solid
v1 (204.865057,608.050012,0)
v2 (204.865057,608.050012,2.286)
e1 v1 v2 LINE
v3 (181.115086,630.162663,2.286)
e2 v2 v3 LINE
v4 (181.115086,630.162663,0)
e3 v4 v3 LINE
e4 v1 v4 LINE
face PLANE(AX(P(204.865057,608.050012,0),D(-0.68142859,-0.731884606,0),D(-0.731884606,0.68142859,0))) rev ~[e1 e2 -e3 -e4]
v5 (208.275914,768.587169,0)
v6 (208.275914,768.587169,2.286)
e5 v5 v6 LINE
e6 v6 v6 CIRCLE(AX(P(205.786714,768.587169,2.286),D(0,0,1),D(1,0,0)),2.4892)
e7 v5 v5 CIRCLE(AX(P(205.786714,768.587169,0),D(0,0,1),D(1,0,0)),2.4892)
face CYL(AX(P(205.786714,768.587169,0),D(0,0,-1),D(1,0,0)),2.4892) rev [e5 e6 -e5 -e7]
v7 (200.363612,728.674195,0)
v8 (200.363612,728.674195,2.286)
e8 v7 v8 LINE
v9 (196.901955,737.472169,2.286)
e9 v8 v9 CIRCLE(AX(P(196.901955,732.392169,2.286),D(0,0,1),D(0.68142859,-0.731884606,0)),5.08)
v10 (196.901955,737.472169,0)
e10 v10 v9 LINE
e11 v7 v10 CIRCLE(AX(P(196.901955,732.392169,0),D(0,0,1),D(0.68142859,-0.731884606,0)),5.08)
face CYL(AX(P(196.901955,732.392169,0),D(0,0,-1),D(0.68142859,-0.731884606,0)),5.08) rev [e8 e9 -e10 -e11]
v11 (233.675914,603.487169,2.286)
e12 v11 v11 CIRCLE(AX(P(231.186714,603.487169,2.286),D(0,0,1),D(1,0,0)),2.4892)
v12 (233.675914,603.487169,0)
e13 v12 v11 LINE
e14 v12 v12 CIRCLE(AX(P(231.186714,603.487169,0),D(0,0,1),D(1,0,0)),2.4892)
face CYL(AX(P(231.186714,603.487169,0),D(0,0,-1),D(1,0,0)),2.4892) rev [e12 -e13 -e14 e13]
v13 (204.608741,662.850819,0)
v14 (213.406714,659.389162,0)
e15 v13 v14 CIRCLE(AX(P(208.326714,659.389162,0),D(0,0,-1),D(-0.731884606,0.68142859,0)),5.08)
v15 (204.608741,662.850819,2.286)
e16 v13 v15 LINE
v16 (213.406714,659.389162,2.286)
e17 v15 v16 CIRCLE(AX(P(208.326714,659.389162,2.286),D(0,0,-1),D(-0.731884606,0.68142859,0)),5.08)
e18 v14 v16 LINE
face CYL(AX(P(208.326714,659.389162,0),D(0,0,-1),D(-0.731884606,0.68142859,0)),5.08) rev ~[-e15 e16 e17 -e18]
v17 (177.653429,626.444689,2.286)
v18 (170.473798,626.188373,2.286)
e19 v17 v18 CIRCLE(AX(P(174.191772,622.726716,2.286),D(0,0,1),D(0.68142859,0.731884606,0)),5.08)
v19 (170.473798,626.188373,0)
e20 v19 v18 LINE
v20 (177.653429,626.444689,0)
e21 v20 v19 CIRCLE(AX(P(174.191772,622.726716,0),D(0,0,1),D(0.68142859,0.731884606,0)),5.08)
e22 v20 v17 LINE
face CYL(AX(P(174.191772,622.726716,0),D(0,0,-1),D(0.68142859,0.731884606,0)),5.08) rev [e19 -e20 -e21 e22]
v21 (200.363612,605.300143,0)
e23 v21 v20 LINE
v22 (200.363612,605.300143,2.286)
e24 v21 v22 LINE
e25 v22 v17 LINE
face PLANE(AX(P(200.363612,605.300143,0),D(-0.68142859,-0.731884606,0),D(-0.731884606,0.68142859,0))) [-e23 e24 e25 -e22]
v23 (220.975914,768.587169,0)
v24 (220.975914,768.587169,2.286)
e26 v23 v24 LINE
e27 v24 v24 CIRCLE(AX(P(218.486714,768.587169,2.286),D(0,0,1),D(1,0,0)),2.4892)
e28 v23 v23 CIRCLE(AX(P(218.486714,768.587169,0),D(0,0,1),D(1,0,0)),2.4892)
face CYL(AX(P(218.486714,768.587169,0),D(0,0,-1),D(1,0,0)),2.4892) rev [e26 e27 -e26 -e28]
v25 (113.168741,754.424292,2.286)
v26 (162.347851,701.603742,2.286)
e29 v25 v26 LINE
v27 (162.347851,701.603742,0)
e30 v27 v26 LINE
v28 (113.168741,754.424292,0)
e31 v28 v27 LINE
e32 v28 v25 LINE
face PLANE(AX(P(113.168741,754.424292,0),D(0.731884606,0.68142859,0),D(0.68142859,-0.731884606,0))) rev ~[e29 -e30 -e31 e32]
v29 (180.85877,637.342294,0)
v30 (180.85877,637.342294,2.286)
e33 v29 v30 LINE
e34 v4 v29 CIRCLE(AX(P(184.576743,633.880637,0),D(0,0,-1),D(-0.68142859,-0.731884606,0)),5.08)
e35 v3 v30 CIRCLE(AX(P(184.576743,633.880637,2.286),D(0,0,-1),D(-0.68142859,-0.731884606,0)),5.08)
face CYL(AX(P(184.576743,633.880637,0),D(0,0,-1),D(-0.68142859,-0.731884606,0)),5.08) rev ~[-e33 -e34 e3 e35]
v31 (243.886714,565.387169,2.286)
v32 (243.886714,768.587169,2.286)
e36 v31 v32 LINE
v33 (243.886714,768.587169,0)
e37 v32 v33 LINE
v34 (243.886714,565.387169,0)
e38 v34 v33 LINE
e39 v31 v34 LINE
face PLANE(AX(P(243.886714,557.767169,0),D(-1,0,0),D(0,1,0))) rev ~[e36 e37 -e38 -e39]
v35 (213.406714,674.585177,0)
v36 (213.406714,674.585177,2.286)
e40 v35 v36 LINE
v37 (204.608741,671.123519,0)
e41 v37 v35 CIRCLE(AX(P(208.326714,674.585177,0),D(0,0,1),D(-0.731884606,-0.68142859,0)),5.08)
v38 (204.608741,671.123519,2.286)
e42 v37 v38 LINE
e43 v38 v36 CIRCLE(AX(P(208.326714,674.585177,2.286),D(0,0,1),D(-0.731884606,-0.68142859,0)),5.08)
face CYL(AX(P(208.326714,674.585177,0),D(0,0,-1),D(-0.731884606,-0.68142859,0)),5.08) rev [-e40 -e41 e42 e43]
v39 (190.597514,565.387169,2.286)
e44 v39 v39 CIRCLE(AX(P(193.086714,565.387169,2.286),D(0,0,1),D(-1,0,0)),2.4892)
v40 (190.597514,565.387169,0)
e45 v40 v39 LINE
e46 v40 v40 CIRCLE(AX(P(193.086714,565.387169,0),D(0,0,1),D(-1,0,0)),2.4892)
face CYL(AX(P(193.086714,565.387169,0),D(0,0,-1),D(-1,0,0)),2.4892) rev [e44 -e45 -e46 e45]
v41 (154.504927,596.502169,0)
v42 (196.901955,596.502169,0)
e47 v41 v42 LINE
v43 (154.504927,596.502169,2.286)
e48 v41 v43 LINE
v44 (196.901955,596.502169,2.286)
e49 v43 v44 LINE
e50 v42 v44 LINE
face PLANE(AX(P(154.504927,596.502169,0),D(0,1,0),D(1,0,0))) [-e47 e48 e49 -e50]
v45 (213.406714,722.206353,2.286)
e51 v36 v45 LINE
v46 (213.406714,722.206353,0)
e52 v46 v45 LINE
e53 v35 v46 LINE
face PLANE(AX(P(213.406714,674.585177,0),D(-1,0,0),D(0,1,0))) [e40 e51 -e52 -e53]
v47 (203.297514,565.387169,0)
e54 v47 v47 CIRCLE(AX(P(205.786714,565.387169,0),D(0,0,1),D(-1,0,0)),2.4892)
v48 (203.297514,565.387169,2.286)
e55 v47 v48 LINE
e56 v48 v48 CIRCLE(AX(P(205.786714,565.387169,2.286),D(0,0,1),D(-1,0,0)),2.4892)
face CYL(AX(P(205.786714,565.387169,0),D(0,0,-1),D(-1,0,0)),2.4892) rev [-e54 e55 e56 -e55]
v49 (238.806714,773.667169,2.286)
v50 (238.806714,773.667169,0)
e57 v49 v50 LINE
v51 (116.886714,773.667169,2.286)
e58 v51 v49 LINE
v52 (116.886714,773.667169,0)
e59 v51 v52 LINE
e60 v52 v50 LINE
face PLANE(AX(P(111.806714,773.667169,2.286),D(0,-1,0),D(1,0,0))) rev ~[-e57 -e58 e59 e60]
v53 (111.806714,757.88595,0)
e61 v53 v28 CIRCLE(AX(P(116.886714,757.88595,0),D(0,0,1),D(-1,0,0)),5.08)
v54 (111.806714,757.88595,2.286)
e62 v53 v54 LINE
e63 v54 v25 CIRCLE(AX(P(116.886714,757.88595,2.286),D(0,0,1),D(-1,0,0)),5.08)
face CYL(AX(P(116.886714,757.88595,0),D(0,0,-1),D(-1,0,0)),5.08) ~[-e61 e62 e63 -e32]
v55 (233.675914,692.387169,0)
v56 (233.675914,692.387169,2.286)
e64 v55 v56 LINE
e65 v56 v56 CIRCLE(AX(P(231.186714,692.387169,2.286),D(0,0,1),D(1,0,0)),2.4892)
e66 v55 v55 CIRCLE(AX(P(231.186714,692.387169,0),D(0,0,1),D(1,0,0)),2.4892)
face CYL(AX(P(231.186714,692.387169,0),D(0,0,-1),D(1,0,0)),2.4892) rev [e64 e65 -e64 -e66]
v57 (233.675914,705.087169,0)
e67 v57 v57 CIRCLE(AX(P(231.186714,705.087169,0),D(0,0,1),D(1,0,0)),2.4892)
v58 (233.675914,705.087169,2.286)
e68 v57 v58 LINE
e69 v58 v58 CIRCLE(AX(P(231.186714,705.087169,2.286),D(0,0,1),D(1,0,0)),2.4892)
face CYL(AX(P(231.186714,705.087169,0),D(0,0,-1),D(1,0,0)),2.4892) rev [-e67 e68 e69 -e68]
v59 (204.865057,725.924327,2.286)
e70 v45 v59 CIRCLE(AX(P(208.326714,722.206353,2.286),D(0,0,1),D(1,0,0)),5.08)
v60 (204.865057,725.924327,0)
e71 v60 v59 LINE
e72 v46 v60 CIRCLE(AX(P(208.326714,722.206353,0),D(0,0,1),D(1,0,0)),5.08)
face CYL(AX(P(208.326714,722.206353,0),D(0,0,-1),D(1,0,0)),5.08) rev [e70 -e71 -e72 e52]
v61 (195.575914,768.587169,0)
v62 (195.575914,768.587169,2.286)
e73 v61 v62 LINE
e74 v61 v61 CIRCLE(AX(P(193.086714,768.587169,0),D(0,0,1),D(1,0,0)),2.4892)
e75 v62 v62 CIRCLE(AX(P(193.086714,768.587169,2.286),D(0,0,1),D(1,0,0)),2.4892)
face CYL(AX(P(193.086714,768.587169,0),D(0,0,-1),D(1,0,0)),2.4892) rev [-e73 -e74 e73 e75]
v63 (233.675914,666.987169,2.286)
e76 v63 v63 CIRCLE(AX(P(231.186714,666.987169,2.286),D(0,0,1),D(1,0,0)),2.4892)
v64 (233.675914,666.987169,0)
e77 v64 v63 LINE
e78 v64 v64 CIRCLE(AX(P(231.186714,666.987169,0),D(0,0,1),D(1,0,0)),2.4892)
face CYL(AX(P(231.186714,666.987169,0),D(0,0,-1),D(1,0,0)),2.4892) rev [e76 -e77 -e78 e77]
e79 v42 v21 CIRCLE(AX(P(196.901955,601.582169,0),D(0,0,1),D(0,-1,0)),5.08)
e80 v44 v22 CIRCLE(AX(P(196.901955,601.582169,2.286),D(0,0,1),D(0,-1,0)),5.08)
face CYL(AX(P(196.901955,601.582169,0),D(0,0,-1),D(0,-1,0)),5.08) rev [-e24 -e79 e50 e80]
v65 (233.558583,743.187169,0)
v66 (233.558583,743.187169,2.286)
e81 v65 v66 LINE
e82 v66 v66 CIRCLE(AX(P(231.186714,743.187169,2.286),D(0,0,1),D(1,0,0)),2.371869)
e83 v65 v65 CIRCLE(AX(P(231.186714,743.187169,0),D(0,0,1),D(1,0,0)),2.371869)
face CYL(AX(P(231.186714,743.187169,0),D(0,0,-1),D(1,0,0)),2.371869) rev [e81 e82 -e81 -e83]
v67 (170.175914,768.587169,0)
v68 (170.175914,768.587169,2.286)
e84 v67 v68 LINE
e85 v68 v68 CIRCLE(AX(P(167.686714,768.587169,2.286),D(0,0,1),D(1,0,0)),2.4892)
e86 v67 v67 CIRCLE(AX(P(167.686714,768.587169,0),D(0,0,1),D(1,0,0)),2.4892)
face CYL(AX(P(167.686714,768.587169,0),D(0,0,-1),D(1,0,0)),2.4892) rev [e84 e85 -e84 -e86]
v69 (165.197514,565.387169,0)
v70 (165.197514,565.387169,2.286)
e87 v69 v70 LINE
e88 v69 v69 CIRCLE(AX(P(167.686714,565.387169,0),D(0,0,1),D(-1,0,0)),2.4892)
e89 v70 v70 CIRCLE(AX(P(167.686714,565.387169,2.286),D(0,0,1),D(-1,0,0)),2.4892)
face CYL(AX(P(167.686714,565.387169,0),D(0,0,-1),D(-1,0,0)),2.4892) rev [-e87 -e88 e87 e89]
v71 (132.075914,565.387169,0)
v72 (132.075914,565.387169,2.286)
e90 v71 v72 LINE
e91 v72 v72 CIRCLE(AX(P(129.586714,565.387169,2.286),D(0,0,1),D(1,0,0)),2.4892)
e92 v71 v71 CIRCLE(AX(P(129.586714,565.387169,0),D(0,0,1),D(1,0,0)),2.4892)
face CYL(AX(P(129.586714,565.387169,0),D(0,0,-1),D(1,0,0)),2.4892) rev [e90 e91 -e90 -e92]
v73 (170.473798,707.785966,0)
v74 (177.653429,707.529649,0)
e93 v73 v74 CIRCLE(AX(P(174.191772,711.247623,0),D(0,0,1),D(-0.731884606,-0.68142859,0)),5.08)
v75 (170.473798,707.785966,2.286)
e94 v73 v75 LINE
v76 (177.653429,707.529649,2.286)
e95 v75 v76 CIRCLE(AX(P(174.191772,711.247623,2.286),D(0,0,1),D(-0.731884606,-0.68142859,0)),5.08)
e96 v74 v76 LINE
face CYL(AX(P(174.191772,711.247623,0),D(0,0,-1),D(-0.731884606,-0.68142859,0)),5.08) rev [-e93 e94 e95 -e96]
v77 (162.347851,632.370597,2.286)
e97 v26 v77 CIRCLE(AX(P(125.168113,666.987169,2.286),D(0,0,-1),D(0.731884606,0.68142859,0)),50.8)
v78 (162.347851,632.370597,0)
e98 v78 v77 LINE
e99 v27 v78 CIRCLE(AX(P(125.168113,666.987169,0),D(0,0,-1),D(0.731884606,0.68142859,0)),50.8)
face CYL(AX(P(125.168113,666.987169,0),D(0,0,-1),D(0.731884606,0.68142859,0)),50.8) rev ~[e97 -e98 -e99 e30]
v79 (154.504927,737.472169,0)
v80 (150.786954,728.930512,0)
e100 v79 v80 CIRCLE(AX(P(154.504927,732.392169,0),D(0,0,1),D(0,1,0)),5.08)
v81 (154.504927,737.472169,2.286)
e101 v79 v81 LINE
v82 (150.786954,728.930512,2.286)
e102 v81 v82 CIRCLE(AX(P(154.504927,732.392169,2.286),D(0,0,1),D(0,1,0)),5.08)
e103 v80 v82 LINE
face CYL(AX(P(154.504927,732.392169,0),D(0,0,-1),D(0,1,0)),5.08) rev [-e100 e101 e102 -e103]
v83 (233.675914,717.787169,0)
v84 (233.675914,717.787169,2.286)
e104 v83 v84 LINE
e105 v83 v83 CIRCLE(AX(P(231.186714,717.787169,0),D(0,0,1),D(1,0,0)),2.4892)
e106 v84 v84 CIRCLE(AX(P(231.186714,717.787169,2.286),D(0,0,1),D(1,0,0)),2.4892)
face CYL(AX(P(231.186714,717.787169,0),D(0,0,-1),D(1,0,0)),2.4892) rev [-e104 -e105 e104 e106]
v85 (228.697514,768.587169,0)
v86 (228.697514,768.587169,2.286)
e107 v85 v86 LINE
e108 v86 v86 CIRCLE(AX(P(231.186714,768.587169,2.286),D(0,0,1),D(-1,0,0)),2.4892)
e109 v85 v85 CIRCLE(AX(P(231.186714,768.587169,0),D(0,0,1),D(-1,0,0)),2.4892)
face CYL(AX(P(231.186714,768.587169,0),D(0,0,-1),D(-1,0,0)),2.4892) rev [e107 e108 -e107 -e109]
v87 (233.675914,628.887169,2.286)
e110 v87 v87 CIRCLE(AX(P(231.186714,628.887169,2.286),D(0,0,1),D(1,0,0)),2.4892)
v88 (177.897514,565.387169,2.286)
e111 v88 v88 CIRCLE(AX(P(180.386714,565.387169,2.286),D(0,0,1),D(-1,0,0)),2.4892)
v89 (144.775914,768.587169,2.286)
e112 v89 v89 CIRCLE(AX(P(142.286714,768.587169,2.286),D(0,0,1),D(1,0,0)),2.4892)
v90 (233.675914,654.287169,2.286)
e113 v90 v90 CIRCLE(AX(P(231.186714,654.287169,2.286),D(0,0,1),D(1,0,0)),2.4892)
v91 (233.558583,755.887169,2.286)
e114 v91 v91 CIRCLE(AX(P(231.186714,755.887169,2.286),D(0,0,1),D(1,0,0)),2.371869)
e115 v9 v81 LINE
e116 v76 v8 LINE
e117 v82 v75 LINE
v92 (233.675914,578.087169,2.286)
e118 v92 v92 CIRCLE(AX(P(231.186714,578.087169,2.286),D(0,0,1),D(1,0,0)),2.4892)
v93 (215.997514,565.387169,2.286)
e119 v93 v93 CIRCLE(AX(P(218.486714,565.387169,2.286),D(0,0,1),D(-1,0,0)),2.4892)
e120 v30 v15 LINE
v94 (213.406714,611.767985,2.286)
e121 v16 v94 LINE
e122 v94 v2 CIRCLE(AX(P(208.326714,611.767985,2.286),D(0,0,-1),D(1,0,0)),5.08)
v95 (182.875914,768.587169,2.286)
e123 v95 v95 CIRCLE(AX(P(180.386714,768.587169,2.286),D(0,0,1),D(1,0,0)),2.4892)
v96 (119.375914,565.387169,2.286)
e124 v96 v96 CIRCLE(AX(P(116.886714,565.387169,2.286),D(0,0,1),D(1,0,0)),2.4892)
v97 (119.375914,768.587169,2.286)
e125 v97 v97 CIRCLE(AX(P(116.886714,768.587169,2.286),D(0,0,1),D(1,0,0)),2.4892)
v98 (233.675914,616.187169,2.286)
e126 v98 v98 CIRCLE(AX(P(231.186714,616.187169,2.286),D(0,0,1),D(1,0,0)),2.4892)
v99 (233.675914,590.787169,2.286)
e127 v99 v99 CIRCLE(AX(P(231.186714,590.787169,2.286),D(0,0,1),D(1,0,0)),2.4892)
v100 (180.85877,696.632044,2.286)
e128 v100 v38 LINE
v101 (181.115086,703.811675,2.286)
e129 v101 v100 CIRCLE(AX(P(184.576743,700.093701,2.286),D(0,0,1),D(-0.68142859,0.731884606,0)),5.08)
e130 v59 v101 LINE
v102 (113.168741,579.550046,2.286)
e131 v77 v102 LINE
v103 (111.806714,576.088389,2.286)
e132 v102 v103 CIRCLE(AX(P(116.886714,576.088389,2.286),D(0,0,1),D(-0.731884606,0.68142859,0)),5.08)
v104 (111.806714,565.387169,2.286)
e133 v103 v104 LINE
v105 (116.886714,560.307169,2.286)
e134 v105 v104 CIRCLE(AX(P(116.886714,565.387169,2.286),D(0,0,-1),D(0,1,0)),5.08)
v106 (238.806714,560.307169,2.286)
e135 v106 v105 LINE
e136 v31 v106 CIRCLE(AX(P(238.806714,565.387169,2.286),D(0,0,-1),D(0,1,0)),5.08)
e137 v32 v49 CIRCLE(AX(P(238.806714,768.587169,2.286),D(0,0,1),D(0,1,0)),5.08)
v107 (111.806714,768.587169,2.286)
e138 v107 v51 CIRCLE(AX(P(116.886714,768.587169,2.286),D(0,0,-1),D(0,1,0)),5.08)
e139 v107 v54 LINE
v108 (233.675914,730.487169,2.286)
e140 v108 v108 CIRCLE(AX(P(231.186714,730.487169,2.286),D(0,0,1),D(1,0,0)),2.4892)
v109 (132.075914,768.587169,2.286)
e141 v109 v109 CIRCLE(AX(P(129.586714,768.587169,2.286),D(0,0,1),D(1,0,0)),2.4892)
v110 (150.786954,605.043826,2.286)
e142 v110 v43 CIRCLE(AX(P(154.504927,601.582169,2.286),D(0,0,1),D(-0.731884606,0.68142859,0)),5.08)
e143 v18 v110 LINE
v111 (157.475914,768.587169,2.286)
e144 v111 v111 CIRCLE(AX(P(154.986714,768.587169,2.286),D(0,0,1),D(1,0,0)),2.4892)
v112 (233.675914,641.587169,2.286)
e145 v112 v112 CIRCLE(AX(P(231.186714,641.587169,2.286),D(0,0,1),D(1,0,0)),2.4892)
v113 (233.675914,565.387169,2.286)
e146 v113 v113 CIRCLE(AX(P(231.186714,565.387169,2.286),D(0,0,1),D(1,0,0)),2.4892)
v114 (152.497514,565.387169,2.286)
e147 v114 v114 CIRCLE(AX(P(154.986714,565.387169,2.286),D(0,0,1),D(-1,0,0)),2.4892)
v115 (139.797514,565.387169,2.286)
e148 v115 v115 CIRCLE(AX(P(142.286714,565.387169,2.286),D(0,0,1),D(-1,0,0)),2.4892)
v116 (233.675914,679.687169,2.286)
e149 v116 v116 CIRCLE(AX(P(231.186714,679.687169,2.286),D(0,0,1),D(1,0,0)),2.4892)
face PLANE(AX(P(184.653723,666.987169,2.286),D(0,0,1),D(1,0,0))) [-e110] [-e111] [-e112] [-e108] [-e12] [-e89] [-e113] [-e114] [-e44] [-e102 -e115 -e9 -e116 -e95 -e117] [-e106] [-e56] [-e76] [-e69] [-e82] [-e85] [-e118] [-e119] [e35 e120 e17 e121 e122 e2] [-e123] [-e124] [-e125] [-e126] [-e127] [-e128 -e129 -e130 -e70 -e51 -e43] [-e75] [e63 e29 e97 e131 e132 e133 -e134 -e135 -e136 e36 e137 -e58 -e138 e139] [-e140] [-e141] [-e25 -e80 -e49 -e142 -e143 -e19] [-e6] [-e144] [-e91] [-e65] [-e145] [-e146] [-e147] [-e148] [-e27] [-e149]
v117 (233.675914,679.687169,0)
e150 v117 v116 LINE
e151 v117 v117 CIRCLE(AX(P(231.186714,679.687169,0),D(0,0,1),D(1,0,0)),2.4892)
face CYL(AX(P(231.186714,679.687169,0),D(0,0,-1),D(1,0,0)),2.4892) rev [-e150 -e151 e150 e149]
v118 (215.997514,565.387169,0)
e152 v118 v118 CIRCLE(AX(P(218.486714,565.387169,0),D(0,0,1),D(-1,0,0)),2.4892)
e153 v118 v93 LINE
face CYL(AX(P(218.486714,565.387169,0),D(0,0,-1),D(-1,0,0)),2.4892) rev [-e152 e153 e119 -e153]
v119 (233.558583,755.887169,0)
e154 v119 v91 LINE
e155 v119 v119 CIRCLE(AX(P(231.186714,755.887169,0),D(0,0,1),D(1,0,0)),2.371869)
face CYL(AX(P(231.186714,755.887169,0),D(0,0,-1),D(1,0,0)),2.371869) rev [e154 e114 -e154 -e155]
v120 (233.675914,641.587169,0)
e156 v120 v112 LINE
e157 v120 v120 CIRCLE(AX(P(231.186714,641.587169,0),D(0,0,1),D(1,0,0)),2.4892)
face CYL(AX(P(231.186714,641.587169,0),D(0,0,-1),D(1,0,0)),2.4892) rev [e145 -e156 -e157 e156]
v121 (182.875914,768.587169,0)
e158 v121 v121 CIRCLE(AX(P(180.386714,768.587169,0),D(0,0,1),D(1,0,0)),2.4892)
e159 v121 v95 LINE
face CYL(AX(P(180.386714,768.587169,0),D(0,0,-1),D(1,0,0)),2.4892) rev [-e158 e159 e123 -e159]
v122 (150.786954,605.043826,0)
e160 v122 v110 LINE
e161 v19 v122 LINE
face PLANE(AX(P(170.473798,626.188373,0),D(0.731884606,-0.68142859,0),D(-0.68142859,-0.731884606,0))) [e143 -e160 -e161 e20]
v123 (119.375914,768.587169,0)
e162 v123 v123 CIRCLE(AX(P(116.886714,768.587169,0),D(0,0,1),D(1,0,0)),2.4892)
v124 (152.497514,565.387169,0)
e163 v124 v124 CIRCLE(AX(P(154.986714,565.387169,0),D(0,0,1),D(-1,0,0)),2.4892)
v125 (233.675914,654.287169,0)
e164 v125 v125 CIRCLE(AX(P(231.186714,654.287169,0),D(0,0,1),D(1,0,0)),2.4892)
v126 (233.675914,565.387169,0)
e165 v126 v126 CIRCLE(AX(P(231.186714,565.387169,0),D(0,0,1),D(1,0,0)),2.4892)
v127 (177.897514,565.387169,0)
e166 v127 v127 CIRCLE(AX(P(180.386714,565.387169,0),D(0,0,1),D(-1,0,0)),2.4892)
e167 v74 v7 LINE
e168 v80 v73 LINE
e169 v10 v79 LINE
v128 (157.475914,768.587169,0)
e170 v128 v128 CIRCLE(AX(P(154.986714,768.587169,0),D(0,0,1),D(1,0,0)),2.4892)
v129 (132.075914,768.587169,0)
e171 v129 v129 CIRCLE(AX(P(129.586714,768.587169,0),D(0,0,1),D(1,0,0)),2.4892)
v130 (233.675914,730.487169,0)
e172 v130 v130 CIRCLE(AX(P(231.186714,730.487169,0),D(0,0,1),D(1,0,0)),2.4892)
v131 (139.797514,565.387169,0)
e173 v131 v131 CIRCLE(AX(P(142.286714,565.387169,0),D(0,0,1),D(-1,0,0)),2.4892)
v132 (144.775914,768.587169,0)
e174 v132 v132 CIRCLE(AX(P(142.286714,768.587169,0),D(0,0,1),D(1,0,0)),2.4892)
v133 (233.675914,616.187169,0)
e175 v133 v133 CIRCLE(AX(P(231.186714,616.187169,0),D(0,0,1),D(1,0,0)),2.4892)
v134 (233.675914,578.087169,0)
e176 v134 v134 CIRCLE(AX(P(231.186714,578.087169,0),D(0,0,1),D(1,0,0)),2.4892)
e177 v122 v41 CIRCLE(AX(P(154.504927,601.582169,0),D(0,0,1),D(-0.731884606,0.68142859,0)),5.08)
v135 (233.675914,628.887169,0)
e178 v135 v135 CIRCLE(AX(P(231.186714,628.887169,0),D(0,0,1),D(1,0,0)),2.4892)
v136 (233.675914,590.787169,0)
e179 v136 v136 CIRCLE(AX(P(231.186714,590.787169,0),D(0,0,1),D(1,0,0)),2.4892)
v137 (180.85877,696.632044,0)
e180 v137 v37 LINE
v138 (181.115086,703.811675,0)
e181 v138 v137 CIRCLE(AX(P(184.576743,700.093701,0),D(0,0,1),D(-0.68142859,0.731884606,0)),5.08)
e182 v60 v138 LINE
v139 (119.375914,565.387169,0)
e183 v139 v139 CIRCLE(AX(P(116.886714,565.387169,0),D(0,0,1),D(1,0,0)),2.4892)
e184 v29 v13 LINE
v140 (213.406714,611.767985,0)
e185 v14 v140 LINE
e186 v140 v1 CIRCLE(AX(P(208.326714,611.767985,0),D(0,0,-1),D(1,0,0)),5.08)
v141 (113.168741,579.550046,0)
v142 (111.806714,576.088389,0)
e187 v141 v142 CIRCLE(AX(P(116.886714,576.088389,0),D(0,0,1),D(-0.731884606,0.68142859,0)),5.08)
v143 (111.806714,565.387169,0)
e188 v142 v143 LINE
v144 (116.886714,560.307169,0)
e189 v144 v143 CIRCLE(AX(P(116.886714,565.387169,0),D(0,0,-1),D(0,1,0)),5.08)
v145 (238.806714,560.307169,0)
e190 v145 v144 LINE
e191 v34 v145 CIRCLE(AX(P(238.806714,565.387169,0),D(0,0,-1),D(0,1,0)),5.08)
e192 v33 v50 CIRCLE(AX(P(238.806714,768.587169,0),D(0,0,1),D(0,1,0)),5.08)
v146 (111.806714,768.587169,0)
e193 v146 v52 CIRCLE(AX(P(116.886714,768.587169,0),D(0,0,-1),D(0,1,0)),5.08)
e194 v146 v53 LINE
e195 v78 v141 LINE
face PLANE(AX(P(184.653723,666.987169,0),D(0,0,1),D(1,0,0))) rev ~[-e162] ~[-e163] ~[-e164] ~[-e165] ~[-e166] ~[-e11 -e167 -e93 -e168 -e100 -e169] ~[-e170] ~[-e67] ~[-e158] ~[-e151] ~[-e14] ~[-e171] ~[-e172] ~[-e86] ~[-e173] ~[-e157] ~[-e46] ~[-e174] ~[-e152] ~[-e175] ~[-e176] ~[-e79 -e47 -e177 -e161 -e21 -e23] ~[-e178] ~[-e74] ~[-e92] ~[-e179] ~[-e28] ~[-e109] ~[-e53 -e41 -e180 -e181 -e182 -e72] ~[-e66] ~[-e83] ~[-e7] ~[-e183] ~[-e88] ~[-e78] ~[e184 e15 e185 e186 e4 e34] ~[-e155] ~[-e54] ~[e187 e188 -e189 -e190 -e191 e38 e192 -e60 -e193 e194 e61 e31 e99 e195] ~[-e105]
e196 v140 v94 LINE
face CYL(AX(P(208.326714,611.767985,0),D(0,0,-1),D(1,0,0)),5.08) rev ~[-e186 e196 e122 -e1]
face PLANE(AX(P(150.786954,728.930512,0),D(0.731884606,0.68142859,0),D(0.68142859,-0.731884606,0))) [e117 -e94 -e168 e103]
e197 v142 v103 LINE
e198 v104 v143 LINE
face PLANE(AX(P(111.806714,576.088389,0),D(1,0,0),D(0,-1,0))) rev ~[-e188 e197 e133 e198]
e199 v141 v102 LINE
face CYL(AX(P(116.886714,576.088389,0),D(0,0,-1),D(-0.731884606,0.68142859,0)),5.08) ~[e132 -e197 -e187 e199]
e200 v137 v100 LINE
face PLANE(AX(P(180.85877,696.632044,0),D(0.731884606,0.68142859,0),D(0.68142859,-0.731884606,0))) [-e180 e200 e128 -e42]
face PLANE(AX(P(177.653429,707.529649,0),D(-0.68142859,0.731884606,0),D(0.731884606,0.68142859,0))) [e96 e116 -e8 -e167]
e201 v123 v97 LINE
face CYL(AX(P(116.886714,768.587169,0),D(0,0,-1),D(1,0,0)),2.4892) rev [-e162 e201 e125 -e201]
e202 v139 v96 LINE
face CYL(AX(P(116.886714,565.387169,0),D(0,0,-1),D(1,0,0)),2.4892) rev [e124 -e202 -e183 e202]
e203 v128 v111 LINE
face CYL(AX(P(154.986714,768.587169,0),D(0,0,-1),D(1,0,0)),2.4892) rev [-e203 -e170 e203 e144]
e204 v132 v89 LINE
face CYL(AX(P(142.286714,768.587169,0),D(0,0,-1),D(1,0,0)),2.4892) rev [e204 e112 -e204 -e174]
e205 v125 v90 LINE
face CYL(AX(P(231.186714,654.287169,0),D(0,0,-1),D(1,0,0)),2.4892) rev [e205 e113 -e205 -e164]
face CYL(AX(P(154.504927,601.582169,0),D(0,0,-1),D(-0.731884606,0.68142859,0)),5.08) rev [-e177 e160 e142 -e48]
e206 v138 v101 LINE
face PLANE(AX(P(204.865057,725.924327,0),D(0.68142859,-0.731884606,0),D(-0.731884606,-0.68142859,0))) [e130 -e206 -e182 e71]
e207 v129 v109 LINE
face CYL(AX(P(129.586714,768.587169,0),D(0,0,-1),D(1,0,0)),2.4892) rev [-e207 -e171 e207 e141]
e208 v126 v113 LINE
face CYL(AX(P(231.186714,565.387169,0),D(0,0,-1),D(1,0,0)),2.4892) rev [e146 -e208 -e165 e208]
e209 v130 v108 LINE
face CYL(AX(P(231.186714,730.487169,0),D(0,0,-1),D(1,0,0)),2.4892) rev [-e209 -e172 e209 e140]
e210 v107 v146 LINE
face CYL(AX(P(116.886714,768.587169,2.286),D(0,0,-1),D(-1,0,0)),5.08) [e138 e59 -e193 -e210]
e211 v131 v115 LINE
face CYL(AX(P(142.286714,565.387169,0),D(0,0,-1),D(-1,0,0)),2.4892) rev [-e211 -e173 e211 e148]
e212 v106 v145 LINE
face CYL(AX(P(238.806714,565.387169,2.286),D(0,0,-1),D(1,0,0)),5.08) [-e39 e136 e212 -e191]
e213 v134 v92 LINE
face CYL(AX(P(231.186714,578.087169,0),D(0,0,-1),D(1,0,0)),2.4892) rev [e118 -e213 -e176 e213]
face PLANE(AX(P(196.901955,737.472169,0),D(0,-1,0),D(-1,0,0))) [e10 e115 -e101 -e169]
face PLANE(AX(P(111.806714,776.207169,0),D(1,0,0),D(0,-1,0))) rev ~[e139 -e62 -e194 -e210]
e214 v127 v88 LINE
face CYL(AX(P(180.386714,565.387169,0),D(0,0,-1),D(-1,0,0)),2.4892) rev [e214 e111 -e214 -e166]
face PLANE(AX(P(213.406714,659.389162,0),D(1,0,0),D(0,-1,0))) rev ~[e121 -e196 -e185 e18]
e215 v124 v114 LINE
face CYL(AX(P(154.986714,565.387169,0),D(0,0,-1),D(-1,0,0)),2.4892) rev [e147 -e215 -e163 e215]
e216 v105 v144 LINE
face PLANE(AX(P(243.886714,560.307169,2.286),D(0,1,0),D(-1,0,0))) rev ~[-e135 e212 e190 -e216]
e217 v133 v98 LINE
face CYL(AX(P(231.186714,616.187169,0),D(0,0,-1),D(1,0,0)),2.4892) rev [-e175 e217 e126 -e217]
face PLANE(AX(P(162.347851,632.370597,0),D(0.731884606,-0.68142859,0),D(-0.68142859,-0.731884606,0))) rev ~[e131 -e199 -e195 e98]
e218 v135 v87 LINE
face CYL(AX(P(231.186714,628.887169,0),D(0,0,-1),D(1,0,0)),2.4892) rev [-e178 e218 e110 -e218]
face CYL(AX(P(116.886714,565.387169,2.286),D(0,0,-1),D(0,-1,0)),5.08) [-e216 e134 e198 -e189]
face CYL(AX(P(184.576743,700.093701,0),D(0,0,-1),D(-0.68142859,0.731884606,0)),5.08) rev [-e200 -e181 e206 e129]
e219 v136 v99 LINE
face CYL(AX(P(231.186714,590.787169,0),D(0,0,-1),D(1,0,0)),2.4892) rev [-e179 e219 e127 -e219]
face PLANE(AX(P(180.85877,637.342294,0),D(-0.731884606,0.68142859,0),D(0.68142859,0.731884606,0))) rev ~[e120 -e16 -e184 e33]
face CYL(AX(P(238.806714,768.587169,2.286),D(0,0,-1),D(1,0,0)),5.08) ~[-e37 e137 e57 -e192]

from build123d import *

# Parameters (mm, degrees)
SKETCH1_R           = 2.4892
SKETCH1_R_2         = 2.37186857
BOSS_EXTRUDE1_DEPTH = 2.286
CUT_EXTRUDE1_DEPTH  = 819.47149982
FILLET1_R           = 5.08


with BuildPart() as part:
    # Sketch1 → Boss-Extrude1 (new body)
    with BuildSketch(Plane.XY):
        with BuildLine():
            Line((238.806714439, 781.287169191), (222.296714439, 781.287169191))
            Line((222.296714439, 781.287169191), (176.576714439, 781.287169191))
            Line((176.576714439, 781.287169191), (116.886714439, 781.287169191))
            ThreePointArc((116.886714439, 781.287169191), (113.29461199, 779.799271639), (111.806714439, 776.207169191))
            Line((111.806714439, 776.207169191), (111.806714439, 757.885949725))
            ThreePointArc((111.806714439, 757.885949725), (112.159468576, 756.025964093), (113.16874064, 754.424292487))
            Line((113.16874064, 754.424292487), (162.347850631, 701.603741569))
            ThreePointArc((162.347850631, 701.603741569), (175.968112644, 666.987169191), (162.347850631, 632.370596813))
            Line((162.347850631, 632.370596813), (113.16874064, 579.550045895))
            ThreePointArc((113.16874064, 579.550045895), (112.159468576, 577.948374289), (111.806714439, 576.088388657))
            Line((111.806714439, 576.088388657), (111.806714439, 557.767169191))
            ThreePointArc((111.806714439, 557.767169191), (113.29461199, 554.175066742), (116.886714439, 552.687169191))
            Line((116.886714439, 552.687169191), (176.576714439, 552.687169191))
            Line((176.576714439, 552.687169191), (222.296714439, 552.687169191))
            Line((222.296714439, 552.687169191), (238.806714439, 552.687169191))
            ThreePointArc((238.806714439, 552.687169191), (242.398816887, 554.175066742), (243.886714439, 557.767169191))
            Line((243.886714439, 557.767169191), (243.886714439, 666.987169191))
            Line((243.886714439, 666.987169191), (243.886714439, 776.207169191))
            ThreePointArc((243.886714439, 776.207169191), (242.398816887, 779.799271639), (238.806714439, 781.287169191))
        make_face()
        with Locations((142.286714439, 768.587169191)):
            Circle(SKETCH1_R, mode=Mode.SUBTRACT)
        with Locations((154.986714439, 768.587169191)):
            Circle(SKETCH1_R, mode=Mode.SUBTRACT)
        with Locations((167.686714439, 768.587169191)):
            Circle(SKETCH1_R, mode=Mode.SUBTRACT)
        with Locations((231.186714439, 743.187169191)):
            Circle(SKETCH1_R_2, mode=Mode.SUBTRACT)
        with Locations((231.186714439, 730.487169191)):
            Circle(SKETCH1_R, mode=Mode.SUBTRACT)
        with Locations((231.186714439, 717.787169191)):
            Circle(SKETCH1_R, mode=Mode.SUBTRACT)
        with Locations((231.186714439, 705.087169191)):
            Circle(SKETCH1_R, mode=Mode.SUBTRACT)
        with Locations((231.186714439, 692.387169191)):
            Circle(SKETCH1_R, mode=Mode.SUBTRACT)
        with Locations(Location((167.686714439, 565.387169191, 0), (0, 0, 180))):
            Circle(SKETCH1_R, mode=Mode.SUBTRACT)
        with Locations(Location((154.986714439, 565.387169191, 0), (0, 0, 180))):
            Circle(SKETCH1_R, mode=Mode.SUBTRACT)
        with Locations(Location((142.286714439, 565.387169191, 0), (0, 0, 180))):
            Circle(SKETCH1_R, mode=Mode.SUBTRACT)
        with Locations((231.186714439, 616.187169191)):
            Circle(SKETCH1_R, mode=Mode.SUBTRACT)
        with Locations((231.186714439, 603.487169191)):
            Circle(SKETCH1_R, mode=Mode.SUBTRACT)
        with Locations((231.186714439, 590.787169191)):
            Circle(SKETCH1_R, mode=Mode.SUBTRACT)
        with Locations((231.186714439, 565.387169191)):
            Circle(SKETCH1_R, mode=Mode.SUBTRACT)
        with Locations(Location((231.186714439, 768.587169191, 0), (0, 0, 180))):
            Circle(SKETCH1_R, mode=Mode.SUBTRACT)
        with Locations((231.186714439, 654.287169191)):
            Circle(SKETCH1_R, mode=Mode.SUBTRACT)
        with Locations((231.186714439, 641.587169191)):
            Circle(SKETCH1_R, mode=Mode.SUBTRACT)
        with Locations((231.186714439, 628.887169191)):
            Circle(SKETCH1_R, mode=Mode.SUBTRACT)
        with Locations((116.886714439, 768.587169191)):
            Circle(SKETCH1_R, mode=Mode.SUBTRACT)
        with Locations((129.586714439, 768.587169191)):
            Circle(SKETCH1_R, mode=Mode.SUBTRACT)
        with Locations((129.586714439, 565.387169191)):
            Circle(SKETCH1_R, mode=Mode.SUBTRACT)
        with Locations((116.886714439, 565.387169191)):
            Circle(SKETCH1_R, mode=Mode.SUBTRACT)
        with Locations((231.186714439, 679.687169191)):
            Circle(SKETCH1_R, mode=Mode.SUBTRACT)
        with Locations((231.186714439, 666.987169191)):
            Circle(SKETCH1_R, mode=Mode.SUBTRACT)
        with Locations((231.186714439, 755.887169191)):
            Circle(SKETCH1_R_2, mode=Mode.SUBTRACT)
        with Locations((231.186714439, 578.087169191)):
            Circle(SKETCH1_R, mode=Mode.SUBTRACT)
        with Locations(Location((180.386714439, 565.387169191, 0), (0, 0, 180))):
            Circle(SKETCH1_R, mode=Mode.SUBTRACT)
        with Locations(Location((193.086714439, 565.387169191, 0), (0, 0, 180))):
            Circle(SKETCH1_R, mode=Mode.SUBTRACT)
        with Locations(Location((205.786714439, 565.387169191, 0), (0, 0, 180))):
            Circle(SKETCH1_R, mode=Mode.SUBTRACT)
        with Locations(Location((218.486714439, 565.387169191, 0), (0, 0, 180))):
            Circle(SKETCH1_R, mode=Mode.SUBTRACT)
        with Locations((180.386714439, 768.587169191)):
            Circle(SKETCH1_R, mode=Mode.SUBTRACT)
        with Locations((193.086714439, 768.587169191)):
            Circle(SKETCH1_R, mode=Mode.SUBTRACT)
        with Locations((205.786714439, 768.587169191)):
            Circle(SKETCH1_R, mode=Mode.SUBTRACT)
        with Locations((218.486714439, 768.587169191)):
            Circle(SKETCH1_R, mode=Mode.SUBTRACT)
        with BuildLine():
            Line((150.786953537, 728.930511953), (170.473797978, 707.785965632))
            ThreePointArc((170.473797978, 707.785965632), (174.010528598, 706.170857078), (177.653429014, 707.529649071))
            Line((177.653429014, 707.529649071), (200.363611972, 728.674195392))
            ThreePointArc((200.363611972, 728.674195392), (201.629200597, 734.252154823), (196.901954734, 737.472169191))
            Line((196.901954734, 737.472169191), (154.504927335, 737.472169191))
            ThreePointArc((154.504927335, 737.472169191), (149.847051276, 734.419628344), (150.786953537, 728.930511953))
        make_face(mode=Mode.SUBTRACT)
        with BuildLine():
            Line((213.406714439, 674.585176614), (213.406714439, 722.206352957))
            ThreePointArc((213.406714439, 722.206352957), (210.354173591, 726.864229016), (204.865057201, 725.924326755))
            Line((204.865057201, 725.924326755), (181.115086252, 703.811675273))
            ThreePointArc((181.115086252, 703.811675273), (179.499977697, 700.274944652), (180.858769691, 696.632044236))
            Line((180.858769691, 696.632044236), (204.60874064, 671.123519376))
            ThreePointArc((204.60874064, 671.123519376), (210.186700071, 669.857930751), (213.406714439, 674.585176614))
        make_face(mode=Mode.SUBTRACT)
        with BuildLine():
            Line((180.858769691, 637.342294146), (204.60874064, 662.850819006))
            ThreePointArc((204.60874064, 662.850819006), (210.186700071, 664.116407631), (213.406714439, 659.389161768))
            Line((213.406714439, 659.389161768), (213.406714439, 611.767985425))
            ThreePointArc((213.406714439, 611.767985425), (210.354173591, 607.110109366), (204.865057201, 608.050011626))
            Line((204.865057201, 608.050011626), (181.115086252, 630.162663109))
            ThreePointArc((181.115086252, 630.162663109), (179.499977697, 633.699393729), (180.858769691, 637.342294146))
        make_face(mode=Mode.SUBTRACT)
        with BuildLine():
            Line((200.363611972, 605.30014299), (177.653429014, 626.44468931))
            ThreePointArc((177.653429014, 626.44468931), (174.010528598, 627.803481304), (170.473797978, 626.188372749))
            Line((170.473797978, 626.188372749), (150.786953537, 605.043826429))
            ThreePointArc((150.786953537, 605.043826429), (149.847051276, 599.554710038), (154.504927335, 596.502169191))
            Line((154.504927335, 596.502169191), (196.901954734, 596.502169191))
            ThreePointArc((196.901954734, 596.502169191), (201.629200597, 599.722183559), (200.363611972, 605.30014299))
        make_face(mode=Mode.SUBTRACT)
    extrude(amount=BOSS_EXTRUDE1_DEPTH)

    # Sketch3 → Cut-Extrude1 (cut, through all)
    with BuildSketch(Plane.XY.offset(2.286)):
        with BuildLine():
            Line((243.886714439, 557.767169191), (243.886714439, 560.307169191))
            Line((243.886714439, 560.307169191), (111.806714439, 560.307169191))
            Line((111.806714439, 560.307169191), (111.806714439, 557.767169191))
            ThreePointArc((111.806714439, 557.767169191), (113.29461199, 554.175066742), (116.886714439, 552.687169191))
            Line((116.886714439, 552.687169191), (238.806714439, 552.687169191))
            ThreePointArc((238.806714439, 552.687169191), (242.398816887, 554.175066742), (243.886714439, 557.767169191))
        make_face()
        with BuildLine():
            Line((111.806714439, 776.207169191), (111.806714439, 773.667169191))
            Line((111.806714439, 773.667169191), (243.886714439, 773.667169191))
            Line((243.886714439, 773.667169191), (243.886714439, 776.207169191))
            ThreePointArc((243.886714439, 776.207169191), (242.398816887, 779.799271639), (238.806714439, 781.287169191))
            Line((238.806714439, 781.287169191), (116.886714439, 781.287169191))
            ThreePointArc((116.886714439, 781.287169191), (113.29461199, 779.799271639), (111.806714439, 776.207169191))
        make_face()
    extrude(amount=-CUT_EXTRUDE1_DEPTH, mode=Mode.SUBTRACT)

    # Fillet1
    fillet1_edges = [part.edges().sort_by_distance(p)[0] for p in [
        (111.806714439, 560.307169191, 1.143),
        (243.886714439, 560.307169191, 1.143),
        (243.886714439, 773.667169191, 1.143),
        (111.806714439, 773.667169191, 1.143),
    ]]
    fillet(fillet1_edges, radius=FILLET1_R)


solid = part.part
